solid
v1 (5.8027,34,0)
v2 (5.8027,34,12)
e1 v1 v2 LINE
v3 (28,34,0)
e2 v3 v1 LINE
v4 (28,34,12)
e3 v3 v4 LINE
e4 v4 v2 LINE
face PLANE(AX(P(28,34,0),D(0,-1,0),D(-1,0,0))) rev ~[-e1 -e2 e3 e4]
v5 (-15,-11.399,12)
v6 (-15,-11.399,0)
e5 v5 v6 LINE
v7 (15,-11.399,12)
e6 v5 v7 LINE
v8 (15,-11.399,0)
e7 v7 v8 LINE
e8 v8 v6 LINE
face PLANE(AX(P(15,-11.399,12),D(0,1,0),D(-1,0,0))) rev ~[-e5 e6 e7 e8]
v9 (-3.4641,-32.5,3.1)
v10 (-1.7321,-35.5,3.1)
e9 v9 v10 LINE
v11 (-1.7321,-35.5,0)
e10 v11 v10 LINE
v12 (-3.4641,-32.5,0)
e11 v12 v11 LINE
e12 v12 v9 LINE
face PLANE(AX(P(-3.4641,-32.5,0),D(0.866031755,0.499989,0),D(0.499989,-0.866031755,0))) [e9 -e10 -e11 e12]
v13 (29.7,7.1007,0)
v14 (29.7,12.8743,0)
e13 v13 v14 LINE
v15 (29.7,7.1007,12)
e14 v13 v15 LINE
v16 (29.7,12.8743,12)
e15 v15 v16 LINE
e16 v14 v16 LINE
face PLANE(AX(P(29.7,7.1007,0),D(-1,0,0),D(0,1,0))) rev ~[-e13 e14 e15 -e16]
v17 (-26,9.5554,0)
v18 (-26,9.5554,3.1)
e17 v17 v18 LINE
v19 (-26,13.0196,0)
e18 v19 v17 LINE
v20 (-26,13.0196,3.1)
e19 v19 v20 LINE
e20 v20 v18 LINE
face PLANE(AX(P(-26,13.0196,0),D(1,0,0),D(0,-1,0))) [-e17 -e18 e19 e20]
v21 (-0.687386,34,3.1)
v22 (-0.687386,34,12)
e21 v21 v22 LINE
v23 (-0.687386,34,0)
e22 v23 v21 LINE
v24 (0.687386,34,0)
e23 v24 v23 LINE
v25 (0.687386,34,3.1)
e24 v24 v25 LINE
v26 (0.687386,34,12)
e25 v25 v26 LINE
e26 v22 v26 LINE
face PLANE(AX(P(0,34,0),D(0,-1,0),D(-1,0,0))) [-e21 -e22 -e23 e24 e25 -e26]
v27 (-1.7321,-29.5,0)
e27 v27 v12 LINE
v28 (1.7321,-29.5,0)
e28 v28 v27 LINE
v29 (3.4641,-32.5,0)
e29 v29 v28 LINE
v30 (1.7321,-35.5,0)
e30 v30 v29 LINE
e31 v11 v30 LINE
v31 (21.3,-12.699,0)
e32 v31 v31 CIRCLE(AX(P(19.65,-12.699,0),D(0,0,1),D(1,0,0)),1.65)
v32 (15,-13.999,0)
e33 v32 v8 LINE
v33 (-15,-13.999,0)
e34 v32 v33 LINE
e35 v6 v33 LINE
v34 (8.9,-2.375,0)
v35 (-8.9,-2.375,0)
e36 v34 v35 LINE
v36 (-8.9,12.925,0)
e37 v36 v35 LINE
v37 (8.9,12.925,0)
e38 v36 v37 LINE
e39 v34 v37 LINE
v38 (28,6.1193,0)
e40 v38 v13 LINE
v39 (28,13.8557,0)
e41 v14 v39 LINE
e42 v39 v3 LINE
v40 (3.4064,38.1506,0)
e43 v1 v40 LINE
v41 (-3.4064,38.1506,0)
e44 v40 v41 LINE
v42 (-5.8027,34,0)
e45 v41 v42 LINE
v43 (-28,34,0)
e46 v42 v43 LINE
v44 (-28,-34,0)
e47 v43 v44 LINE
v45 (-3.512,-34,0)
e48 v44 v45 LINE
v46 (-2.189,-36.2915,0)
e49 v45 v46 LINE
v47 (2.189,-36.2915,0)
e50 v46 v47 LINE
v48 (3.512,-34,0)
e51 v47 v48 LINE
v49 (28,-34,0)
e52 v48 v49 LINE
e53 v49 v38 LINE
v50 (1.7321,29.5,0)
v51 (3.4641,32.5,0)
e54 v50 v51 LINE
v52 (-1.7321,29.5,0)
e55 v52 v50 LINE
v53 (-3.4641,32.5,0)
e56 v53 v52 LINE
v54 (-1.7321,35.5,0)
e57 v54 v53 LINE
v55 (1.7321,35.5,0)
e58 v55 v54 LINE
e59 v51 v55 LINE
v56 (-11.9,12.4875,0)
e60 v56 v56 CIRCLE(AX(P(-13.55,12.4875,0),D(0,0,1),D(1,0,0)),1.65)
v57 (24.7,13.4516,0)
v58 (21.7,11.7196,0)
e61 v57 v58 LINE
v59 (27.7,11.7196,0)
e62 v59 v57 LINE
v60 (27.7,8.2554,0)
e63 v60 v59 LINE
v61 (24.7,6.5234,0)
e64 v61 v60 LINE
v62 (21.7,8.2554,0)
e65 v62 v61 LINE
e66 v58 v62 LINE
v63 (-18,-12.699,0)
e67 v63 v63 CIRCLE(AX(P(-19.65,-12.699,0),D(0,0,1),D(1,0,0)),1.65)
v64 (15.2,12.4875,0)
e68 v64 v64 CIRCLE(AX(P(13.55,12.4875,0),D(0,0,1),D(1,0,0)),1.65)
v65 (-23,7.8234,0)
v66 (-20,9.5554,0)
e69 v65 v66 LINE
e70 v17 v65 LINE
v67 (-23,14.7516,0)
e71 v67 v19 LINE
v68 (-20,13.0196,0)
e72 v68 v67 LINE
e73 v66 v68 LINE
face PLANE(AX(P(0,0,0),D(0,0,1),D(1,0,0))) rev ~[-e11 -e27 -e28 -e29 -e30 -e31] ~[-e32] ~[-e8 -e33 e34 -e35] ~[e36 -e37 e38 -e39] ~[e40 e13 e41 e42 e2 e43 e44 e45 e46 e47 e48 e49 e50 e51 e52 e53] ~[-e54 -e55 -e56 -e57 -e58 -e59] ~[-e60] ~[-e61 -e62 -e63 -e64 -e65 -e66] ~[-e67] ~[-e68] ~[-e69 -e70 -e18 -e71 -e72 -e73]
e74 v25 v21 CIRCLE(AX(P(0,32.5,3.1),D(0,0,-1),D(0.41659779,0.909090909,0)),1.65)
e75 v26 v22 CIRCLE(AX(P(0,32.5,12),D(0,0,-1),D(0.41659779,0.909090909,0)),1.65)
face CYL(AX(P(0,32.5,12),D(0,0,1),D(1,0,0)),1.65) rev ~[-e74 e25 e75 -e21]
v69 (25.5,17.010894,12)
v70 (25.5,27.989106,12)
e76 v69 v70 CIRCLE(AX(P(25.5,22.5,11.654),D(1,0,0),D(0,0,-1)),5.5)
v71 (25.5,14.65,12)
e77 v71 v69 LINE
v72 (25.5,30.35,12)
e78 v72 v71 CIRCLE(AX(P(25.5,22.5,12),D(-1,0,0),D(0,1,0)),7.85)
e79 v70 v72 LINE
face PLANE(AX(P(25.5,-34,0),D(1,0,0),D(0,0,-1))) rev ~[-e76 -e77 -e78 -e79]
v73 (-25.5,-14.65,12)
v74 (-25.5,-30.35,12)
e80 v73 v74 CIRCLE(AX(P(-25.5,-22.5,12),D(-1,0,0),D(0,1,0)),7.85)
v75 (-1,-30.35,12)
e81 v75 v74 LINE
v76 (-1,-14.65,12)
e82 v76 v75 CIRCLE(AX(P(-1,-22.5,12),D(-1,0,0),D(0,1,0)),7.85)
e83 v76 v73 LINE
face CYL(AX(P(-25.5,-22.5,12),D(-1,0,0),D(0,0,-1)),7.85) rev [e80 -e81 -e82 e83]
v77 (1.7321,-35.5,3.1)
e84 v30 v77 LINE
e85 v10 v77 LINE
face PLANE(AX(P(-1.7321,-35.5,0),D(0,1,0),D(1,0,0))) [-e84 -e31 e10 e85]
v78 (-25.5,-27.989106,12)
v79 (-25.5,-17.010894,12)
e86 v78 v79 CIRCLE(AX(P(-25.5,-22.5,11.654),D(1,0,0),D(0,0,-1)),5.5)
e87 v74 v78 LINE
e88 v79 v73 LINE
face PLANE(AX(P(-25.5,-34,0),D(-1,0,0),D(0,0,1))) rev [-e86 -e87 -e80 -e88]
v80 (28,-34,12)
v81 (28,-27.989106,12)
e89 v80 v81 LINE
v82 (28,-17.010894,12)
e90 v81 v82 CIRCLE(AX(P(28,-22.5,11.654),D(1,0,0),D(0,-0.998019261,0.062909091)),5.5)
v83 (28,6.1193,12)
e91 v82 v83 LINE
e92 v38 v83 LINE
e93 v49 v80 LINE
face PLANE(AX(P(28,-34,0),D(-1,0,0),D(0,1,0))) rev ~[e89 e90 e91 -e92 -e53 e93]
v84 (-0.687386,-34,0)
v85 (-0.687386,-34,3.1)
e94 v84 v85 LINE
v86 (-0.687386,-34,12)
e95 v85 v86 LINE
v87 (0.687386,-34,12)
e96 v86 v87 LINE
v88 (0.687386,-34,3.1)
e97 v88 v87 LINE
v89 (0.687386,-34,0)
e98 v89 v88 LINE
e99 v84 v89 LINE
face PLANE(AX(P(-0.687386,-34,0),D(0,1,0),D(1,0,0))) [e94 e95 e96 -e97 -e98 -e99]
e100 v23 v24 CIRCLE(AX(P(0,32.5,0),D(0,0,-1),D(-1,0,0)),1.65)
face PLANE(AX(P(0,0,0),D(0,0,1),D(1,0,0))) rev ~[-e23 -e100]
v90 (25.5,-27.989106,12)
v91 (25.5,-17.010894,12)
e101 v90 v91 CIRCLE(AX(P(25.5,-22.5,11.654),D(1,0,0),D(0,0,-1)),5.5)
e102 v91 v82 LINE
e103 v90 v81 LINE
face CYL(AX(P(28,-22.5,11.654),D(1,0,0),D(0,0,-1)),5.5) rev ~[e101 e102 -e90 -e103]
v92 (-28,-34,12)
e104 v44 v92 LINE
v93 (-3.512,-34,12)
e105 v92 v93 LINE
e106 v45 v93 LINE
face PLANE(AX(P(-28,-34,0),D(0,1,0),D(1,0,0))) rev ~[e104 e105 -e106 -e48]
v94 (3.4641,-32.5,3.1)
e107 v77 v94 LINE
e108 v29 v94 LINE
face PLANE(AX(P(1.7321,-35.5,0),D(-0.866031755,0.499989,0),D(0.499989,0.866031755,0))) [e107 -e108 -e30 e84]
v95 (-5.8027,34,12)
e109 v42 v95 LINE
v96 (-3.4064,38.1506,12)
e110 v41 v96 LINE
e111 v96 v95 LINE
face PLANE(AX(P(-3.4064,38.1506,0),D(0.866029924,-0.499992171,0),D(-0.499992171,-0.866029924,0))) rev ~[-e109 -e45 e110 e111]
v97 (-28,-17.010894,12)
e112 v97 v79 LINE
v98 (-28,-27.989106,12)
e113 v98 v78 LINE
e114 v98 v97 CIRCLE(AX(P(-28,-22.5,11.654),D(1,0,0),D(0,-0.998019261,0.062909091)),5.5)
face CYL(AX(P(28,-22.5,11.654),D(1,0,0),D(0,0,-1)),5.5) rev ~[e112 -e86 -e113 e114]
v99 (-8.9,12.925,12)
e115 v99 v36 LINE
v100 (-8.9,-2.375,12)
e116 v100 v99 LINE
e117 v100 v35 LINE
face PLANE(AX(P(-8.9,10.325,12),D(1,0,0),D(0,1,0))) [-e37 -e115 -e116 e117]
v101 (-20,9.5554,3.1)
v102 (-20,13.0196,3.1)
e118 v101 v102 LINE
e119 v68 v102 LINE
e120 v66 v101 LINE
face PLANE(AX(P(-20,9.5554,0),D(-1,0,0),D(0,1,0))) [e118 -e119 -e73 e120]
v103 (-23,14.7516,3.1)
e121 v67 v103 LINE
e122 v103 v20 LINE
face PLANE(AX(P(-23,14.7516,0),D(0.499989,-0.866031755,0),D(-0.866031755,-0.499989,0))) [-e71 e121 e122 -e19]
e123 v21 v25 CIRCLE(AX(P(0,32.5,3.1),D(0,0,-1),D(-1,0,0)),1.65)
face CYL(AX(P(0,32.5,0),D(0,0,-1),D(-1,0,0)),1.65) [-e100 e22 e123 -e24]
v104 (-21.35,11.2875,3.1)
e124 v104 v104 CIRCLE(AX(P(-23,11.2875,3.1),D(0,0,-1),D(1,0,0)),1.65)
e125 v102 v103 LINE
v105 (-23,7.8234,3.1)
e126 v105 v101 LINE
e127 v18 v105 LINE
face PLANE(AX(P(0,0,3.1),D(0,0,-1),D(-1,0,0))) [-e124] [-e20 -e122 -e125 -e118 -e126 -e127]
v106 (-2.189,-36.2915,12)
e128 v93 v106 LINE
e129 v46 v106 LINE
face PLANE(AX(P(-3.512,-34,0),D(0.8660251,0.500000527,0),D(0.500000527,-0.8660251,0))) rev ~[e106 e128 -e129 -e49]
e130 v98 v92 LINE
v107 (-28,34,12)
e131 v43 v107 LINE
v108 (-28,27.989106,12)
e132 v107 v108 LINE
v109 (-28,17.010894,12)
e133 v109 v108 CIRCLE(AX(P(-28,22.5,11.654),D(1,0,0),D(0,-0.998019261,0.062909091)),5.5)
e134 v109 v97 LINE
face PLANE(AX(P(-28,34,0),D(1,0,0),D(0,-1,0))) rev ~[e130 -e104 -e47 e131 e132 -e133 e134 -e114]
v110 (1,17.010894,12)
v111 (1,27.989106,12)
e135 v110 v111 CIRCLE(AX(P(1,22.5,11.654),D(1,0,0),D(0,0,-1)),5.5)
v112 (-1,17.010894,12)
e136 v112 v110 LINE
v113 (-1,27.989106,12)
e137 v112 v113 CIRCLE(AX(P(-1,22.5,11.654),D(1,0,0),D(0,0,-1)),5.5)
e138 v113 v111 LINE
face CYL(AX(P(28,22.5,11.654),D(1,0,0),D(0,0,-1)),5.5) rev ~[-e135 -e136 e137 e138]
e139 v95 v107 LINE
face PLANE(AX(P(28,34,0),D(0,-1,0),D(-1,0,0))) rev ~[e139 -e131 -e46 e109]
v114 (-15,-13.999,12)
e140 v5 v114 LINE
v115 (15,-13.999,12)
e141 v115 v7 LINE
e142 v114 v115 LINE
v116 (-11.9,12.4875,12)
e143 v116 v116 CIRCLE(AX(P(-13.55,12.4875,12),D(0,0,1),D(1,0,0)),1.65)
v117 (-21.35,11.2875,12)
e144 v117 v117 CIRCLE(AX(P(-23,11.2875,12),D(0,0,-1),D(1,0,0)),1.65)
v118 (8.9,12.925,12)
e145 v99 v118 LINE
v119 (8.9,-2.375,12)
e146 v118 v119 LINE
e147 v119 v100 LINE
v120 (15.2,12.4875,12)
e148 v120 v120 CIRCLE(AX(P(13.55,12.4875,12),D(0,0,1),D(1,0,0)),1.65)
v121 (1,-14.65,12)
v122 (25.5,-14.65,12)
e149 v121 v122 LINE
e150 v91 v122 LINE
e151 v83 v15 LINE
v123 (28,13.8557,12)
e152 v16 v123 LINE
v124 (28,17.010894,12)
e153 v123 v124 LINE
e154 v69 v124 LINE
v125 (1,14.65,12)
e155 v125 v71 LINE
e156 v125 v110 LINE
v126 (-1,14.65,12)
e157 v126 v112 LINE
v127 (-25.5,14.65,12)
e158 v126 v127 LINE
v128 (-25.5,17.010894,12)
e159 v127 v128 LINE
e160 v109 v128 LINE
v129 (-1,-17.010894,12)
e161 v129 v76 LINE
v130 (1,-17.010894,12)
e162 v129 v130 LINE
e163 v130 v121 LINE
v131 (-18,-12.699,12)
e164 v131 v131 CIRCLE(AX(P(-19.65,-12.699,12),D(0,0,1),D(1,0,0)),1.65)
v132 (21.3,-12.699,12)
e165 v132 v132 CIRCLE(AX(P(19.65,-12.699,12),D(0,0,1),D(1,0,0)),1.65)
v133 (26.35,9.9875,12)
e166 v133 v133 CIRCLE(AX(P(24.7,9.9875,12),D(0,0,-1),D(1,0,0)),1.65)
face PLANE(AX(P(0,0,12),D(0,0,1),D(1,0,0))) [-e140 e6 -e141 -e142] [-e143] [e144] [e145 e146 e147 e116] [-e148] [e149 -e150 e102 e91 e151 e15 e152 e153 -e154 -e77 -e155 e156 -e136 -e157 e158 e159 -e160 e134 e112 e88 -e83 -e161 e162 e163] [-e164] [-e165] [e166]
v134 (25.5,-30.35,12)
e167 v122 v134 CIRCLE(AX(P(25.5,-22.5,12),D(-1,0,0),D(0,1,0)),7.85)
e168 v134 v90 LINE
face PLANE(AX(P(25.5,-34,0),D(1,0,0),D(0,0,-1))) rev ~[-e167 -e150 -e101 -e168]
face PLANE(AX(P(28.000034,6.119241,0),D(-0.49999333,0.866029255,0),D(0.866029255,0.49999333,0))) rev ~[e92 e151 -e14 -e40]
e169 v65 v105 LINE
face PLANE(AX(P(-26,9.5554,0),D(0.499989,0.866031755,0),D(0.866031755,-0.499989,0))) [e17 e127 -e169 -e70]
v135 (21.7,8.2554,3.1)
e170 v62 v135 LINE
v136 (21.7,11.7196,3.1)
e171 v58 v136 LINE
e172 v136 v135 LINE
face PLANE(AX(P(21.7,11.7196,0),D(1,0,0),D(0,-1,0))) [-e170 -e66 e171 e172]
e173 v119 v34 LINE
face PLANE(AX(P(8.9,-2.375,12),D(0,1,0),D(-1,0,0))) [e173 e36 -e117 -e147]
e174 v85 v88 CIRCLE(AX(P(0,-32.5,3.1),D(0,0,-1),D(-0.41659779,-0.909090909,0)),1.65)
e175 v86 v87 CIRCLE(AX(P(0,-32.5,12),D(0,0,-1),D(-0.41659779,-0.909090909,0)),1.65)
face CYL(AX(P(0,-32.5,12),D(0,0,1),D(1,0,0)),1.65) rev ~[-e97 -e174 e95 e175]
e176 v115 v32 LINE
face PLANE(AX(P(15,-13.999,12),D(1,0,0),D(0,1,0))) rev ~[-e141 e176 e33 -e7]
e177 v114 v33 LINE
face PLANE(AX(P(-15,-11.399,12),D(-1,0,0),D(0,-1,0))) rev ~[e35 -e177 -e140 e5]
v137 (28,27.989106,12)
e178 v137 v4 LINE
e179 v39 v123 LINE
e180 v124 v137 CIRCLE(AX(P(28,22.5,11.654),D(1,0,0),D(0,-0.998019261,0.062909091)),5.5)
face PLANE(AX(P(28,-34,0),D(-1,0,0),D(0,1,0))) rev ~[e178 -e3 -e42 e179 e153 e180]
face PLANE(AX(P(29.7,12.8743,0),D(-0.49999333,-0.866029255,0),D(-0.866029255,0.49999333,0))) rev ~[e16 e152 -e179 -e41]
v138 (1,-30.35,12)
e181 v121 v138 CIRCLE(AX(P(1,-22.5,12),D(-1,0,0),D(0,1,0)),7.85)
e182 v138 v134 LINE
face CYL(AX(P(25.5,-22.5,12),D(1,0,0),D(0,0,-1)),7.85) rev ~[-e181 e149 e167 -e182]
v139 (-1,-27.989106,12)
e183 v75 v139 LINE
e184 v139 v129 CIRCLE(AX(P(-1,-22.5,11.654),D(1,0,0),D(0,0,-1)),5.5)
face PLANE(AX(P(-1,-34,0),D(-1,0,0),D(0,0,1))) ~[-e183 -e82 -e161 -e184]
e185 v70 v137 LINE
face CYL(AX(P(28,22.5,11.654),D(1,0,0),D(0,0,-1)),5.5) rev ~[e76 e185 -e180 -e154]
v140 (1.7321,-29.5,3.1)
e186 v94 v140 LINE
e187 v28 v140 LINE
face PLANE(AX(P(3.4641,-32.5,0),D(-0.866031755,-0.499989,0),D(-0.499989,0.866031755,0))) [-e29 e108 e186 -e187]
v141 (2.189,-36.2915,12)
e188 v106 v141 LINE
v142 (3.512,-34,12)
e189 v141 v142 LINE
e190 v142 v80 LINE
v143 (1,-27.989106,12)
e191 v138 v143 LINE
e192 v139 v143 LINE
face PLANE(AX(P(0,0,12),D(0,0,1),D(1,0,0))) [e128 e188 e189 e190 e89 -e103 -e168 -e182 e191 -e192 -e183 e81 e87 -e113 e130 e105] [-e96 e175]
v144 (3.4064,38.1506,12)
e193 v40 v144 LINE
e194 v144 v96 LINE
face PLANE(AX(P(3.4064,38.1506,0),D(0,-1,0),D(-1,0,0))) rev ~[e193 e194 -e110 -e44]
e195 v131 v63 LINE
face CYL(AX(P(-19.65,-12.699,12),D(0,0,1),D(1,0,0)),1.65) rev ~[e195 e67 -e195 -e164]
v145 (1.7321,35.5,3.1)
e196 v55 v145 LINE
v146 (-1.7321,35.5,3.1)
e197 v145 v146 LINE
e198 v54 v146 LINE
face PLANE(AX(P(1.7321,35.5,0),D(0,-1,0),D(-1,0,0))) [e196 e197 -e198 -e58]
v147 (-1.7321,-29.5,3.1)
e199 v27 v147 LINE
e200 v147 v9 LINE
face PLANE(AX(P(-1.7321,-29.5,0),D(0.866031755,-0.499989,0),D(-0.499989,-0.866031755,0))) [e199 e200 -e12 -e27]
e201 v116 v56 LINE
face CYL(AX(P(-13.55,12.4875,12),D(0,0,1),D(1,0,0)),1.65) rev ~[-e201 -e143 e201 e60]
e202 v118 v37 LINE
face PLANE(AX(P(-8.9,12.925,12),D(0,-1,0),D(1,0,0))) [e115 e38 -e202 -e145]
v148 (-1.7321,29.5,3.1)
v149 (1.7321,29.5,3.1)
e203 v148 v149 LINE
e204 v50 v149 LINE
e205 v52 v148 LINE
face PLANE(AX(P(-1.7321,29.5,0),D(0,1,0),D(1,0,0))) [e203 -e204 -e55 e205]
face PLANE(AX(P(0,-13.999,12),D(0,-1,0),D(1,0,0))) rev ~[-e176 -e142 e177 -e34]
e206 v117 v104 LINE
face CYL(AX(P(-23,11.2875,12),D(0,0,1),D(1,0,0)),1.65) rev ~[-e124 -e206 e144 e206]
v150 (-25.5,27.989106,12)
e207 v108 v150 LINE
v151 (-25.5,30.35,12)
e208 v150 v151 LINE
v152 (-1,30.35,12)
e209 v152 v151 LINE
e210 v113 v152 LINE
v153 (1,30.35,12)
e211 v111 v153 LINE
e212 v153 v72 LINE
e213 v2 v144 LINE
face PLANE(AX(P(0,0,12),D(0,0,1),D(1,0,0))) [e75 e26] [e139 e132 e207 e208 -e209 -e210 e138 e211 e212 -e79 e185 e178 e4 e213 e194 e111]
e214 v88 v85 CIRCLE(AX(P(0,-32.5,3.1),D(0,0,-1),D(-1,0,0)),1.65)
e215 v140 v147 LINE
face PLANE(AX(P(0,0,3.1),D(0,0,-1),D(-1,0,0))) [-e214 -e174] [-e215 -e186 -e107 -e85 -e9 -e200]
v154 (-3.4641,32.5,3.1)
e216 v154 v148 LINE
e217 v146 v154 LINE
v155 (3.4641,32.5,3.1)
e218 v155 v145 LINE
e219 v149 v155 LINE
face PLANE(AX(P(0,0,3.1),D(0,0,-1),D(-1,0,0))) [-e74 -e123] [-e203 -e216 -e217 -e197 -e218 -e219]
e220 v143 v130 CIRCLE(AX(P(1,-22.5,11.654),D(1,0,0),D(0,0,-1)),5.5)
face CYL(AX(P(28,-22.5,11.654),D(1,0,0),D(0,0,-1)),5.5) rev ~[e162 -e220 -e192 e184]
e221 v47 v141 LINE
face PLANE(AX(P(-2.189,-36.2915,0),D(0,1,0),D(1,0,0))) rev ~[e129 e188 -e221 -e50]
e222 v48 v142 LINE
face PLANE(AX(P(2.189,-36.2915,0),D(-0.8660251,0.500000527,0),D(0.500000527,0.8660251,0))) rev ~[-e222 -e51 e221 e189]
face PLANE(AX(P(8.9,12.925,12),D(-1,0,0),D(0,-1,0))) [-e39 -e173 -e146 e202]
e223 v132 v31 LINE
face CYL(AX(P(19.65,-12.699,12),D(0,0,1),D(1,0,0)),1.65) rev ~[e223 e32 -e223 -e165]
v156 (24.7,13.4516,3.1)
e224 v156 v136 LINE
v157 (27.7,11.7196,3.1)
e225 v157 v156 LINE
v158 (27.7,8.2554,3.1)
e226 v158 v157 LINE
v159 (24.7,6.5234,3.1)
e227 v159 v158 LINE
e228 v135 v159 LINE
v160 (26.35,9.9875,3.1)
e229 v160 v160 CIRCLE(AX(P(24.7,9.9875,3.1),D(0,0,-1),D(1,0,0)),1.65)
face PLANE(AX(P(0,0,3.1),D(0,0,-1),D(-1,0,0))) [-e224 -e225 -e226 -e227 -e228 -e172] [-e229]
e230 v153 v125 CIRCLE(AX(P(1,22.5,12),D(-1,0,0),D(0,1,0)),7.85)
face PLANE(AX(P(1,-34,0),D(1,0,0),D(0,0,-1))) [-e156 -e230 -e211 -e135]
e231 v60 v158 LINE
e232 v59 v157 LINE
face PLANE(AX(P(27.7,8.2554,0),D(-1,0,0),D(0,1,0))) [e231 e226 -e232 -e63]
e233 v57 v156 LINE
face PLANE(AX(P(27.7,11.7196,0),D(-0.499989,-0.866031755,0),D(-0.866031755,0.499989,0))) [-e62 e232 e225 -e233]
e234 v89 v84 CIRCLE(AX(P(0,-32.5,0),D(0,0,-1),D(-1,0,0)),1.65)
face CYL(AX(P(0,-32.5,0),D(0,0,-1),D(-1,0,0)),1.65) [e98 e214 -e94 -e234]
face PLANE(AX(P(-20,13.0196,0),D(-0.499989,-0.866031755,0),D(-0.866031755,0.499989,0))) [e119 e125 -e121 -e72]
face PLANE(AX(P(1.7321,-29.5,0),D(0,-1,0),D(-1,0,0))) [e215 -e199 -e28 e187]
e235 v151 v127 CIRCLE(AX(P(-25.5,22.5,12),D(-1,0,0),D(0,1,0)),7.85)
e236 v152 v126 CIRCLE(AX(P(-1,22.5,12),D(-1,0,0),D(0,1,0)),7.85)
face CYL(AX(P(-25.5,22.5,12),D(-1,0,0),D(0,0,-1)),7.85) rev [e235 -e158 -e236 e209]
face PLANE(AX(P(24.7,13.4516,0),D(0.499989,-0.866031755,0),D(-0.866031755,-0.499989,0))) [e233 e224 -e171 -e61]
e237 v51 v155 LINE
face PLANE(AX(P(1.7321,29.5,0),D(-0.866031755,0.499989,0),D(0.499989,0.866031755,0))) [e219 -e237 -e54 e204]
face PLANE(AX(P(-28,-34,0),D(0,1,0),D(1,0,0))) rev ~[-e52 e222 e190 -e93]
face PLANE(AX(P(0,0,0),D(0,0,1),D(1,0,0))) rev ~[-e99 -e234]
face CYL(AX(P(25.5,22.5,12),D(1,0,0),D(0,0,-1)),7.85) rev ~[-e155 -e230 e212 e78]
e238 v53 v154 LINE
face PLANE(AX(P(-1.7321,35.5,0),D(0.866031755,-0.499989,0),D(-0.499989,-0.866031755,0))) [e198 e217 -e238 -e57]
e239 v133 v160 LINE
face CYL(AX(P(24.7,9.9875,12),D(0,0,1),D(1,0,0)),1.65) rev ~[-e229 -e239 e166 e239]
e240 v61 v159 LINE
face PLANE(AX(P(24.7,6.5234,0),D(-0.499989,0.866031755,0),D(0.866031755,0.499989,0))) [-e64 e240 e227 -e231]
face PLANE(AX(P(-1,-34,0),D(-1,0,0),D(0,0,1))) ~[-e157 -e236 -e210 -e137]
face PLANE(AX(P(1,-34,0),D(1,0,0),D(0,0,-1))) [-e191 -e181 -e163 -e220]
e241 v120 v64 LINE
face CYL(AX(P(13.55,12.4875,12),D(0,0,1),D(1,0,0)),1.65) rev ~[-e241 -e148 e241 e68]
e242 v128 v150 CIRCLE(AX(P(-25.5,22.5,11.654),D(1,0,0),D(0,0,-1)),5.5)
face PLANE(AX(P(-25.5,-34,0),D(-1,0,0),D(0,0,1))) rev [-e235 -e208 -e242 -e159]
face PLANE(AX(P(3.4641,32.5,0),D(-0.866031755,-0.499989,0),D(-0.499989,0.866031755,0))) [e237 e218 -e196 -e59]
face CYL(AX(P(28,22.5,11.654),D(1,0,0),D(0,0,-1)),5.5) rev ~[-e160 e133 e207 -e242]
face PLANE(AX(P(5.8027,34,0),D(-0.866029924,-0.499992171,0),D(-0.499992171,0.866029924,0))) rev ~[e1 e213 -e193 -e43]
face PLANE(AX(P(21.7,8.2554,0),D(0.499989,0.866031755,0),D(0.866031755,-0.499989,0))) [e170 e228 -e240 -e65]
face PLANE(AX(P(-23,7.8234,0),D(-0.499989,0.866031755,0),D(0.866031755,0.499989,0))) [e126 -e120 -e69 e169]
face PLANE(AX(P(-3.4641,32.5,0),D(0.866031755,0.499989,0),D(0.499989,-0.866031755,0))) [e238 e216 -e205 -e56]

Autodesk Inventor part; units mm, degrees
ref_plane "YZ Plane" through (0, 0, 0) normal (1, 0, 0) x (0, 1, 0)
ref_plane "XZ Plane" through (0, 0, 0) normal (0, 1, 0) x (-1, 0, 0)
ref_plane "XY Plane" through (0, 0, 0) normal (0, 0, 1) x (1, 0, 0)
sketch "Sketch1" plane through (0, 0, 0) normal (0, 0, 1) x (1, 0, 0)
  line L0 (-28, -34) -> (28, -34)
  line L1 (28, -34) -> (28, 34)
  line L2 (28, 34) -> (-28, 34)
  line L3 (-28, 34) -> (-28, -34)
  line L4 (-28, -34) -> (28, 34) construction
  line L5 (28, -34) -> (-28, 34) construction
  point P0 (0, 0)
  dimension "d0" = 56
  dimension "d1" = 68
extrude "Extrusion1" add sketch "Sketch1" along normal blind 12
sketch "Sketch2" plane through (28, -34, 0) normal (1, 0, 0) x (0, 0, -1)
  line L0 (0, 34) -> (-11.654, 34)
  line L1 (-11.654, 34) -> (-11.654, 11.5)
  line L2 (-11.654, 34) -> (-11.654, 56.5)
  circle A0 centre (-11.654, 11.5) radius 5.5
  circle A1 centre (-11.654, 56.5) radius 5.5
  dimension "d4" = 22.5
  dimension "d5" = 11
  dimension "d6" = 11
extrude "Extrusion2" cut sketch "Sketch2" against normal up to surface (56 mm away)
ref_plane "Work Plane1" through (25.5, -34, 0) normal (1, 0, 0) x (0, 0, -1)
sketch "Sketch3" plane through (25.5, -34, 0) normal (1, 0, 0) x (0, 0, -1)
  line L0 (-12, 51.0109) -> (-12, 16.9891) projected
  line L1 (-12, 61.9891) -> (-12, 68) projected
  line L2 (-12, 51.0109) -> (-12, 61.9891)
  line L3 (-12, 16.9891) -> (-12, 6.0109)
  circle A0 centre (-12, 11.5) radius 7.85
  circle A1 centre (-12, 56.5) radius 7.85
  point P0 (0, 34)
  dimension "d9" = 15.7
  dimension "d10" = 15.7
extrude "Extrusion3" cut sketch "Sketch3" against normal blind 24.5
ref_plane "Work Plane2" through (0, -34, 0) normal (1, 0, 0) x (0, 0, -1)
mirror "Mirror1" about plane through (0, -34, 0) normal (1, 0, 0) of "Extrusion3"
sketch "Sketch10" plane through (0, 0, 12) normal (0, 0, 1) x (1, 0, 0)
  line L0 (-8.9, 12.925) -> (8.9, 12.925)
  line L1 (8.9, 14.65) -> (8.9, -2.375)
  line L2 (8.9, -2.375) -> (-8.9, -2.375)
  line L3 (-8.9, -2.375) -> (-8.9, 12.925)
  line L4 (10.4, -4.375) -> (-10.4, -4.375) projected
  line L5 (10.4, 10.325) -> (10.4, -4.375) projected
  line L6 (-10.4, -4.375) -> (-10.4, 10.325) projected
  line L7 (-1, 14.65) -> (-25.5, 14.65) projected
  line L8 (-28, 17.0109) -> (-28, -17.0109) projected
  line L9 (28, -17.0109) -> (28, 17.0109) projected
  line L10 (-28, 10.325) -> (28, 10.325) projected
  line L11 (25.5, 14.65) -> (1, 14.65) projected
  line L12 (-1, -15.073) -> (1, -15.073)
  line L13 (0, -15.073) -> (0, -10.325)
  line L14 (28, -10.325) -> (-28, -10.325) projected
  line L15 (-15, -13.999) -> (15, -13.999)
  line L16 (15, -13.999) -> (15, -11.399)
  line L17 (15, -11.399) -> (-15, -11.399)
  line L18 (-15, -11.399) -> (-15, -13.999)
  line L19 (-15, -13.999) -> (15, -11.399) construction
  line L20 (15, -13.999) -> (-15, -11.399) construction
  line L21 (1, -14.65) -> (25.5, -14.65) projected
  point P0 (0, 0)
  point P1 (-28, 6.925)
  point P2 (28, 4.325)
  point P3 (21.4, 10.325)
  point P4 (0, -12.699)
  dimension "d82" = 2
  dimension "d83" = 1.5
  dimension "d84" = 1.5
  dimension "d105" = 15.3
  dimension "d116" = 2.6
  dimension "d117" = 30
  dimension "d152" = 0.651
extrude "Extrusion9" cut sketch "Sketch10" against normal up to surface (12 mm away) contours L17 L16 L15 L13 | L13 L15 L18 L17 | L0 L1 L10 L3 | L10 L1 L2 L3
sketch "Sketch12" plane through (0, 0, 12) normal (0, 0, 1) x (1, 0, 0)
  line L0 (-28, 10.325) -> (28, 10.325) projected
  line L1 (-10.4, 10.325) -> (-8.9, 10.325)
  line L2 (-8.9, 12.925) -> (-8.9, -2.375) projected
  line L3 (-1, 14.65) -> (-25.5, 14.65) projected
  line L4 (-8.9, 14.65) -> (-8.9, 10.325)
  line L5 (-8.9, 12.4875) -> (-13.55, 12.4875) construction
  circle A0 centre (-13.55, 12.4875) radius 1.65
  line L6 (28, -17.0109) -> (28, 17.0109) construction
  line L7 (28, 5.325) -> (21.4, 5.325) construction
  line L8 (21.4, 5.325) -> (21.4, 14.65) construction
  line L9 (21.4, 14.65) -> (28, 14.65) construction
  line L10 (28, 14.65) -> (28, 5.325) construction
  line L11 (21.4, 5.825) -> (21.4, 10.325) construction
  line L12 (25.5, 14.65) -> (1, 14.65) projected
  line L13 (21.4, 14.65) -> (28, 5.325) construction
  circle A1 centre (24.7, 9.9875) radius 1.65
  line L14 (-28, -34) -> (28, -34) projected
  line L15 (0, -34) -> (0, 34)
  circle A2 centre (13.55, 12.4875) radius 1.65
  line L16 (-15, -11.399) -> (-15, -13.999) projected
  line L17 (-15, -12.699) -> (-19.65, -12.699) construction
  circle A3 centre (-19.65, -12.699) radius 1.65
  circle A4 centre (19.65, -12.699) radius 1.65
  line L18 (-28, 7.925) -> (-18, 7.925) construction
  line L19 (-18, 7.925) -> (-18, 14.65) construction
  line L20 (-18, 14.65) -> (-28, 14.65) construction
  line L21 (-28, 14.65) -> (-28, 7.925) construction
  line L22 (-18, 10.325) -> (-18, 8.425) construction
  line L23 (-28, 14.65) -> (-18, 7.925) construction
  circle A5 centre (-23, 11.2875) radius 1.65
  line L24 (-28, 30.85) -> (28, 30.85) construction
  circle A6 centre (0, 32.5) radius 1.65
  line L25 (-25.5, 30.35) -> (-1, 30.35) projected
  line L26 (28, -34) -> (28, 34) projected
  line L27 (28, 0) -> (-28, 0)
  line L28 (-28, -30.85) -> (28, -30.85) construction
  circle A7 centre (0, -32.5) radius 1.65
  point P0 (0, 0)
  dimension "d118" = 4.65
  dimension "d119" = 3.3
  dimension "d121" = 3.3
  dimension "d122" = 4.65
  dimension "d123" = 3.3
  dimension "d124" = 3.3
  dimension "d125" = 3.3
  dimension "d126" = 0.5
extrude "Extrusion11" cut sketch "Sketch12" against normal up to surface (12 mm away) contours A6 | A5 L0 | L0 A5 | A1 L0 | L0 A1 | A7 L14 L15 | L15 L14 A7 | L14 A7 | A0 | A2 | A3 | A4
sketch "Sketch13" plane through (0, 0, 0) normal (0, 0, -1) x (-1, 0, 0)
  line L0 (3.4064, 38.1506) -> (5.8027, 34)
  line L1 (-5.8027, 34) -> (-3.4064, 38.1506)
  line L2 (-3.4064, 38.1506) -> (3.4064, 38.1506)
  line L3 (0, 34) -> (0, 32.2506)
  line L4 (-28, 34) -> (28, 34) projected
  line L5 (-28, 34) -> (28, 34) projected
  line L6 (-5.8027, 34) -> (5.8027, 34)
  line L7 (-28, -34) -> (-28, 34) projected
  line L8 (-28, 0) -> (28, 0)
  circle A0 centre (-24.7, 9.9875) radius 1.65 projected
  line L9 (-29.7, 12.8743) -> (-24.7, 15.761)
  line L10 (-24.7, 15.761) -> (-19.7, 12.8743)
  line L11 (-19.7, 12.8743) -> (-19.7, 7.1007)
  line L12 (-19.7, 7.1007) -> (-24.7, 4.214)
  line L13 (-24.7, 4.214) -> (-29.7, 7.1007)
  line L14 (-29.7, 7.1007) -> (-29.7, 12.8743)
  line L15 (-28, 13.8557) -> (-28, 6.1193)
  circle A1 centre (0, -32.5) radius 1.65 projected
  line L16 (-2.189, -36.2915) -> (-3.512, -34)
  line L17 (3.512, -34) -> (2.189, -36.2915)
  line L18 (2.189, -36.2915) -> (-2.189, -36.2915)
  line L19 (28, -34) -> (-28, -34) projected
  line L20 (-3.512, -34) -> (3.512, -34)
  point P0 (0, 0)
  dimension "d131" = 1.7494
  dimension "d142" = 10
extrude "Extrusion12" add sketch "Sketch13" against normal up to surface (12 mm away) contours L19 A1 L17 L18 L16 | L7 L13 L14 L9 | L0 L4 L1 L2 | L19 A1 picked at (-0.1173, -34.0374)
sketch "Sketch14" plane through (0, 0, 0) normal (0, 0, -1) x (-1, 0, 0)
  circle A0 centre (0, 32.5) radius 1.65 projected
  line L0 (-1.65, 32.5) -> (1.65, 32.5) construction
  line L1 (1.7321, 35.5) -> (3.4641, 32.5)
  line L2 (3.4641, 32.5) -> (1.7321, 29.5)
  line L3 (1.7321, 29.5) -> (-1.7321, 29.5)
  line L4 (-1.7321, 29.5) -> (-3.4641, 32.5)
  line L5 (-3.4641, 32.5) -> (-1.7321, 35.5)
  line L6 (-1.7321, 35.5) -> (1.7321, 35.5)
  circle A1 centre (23, 11.2875) radius 1.65 projected
  line L7 (26, 9.5554) -> (23, 7.8234)
  line L8 (23, 7.8234) -> (20, 9.5554)
  line L9 (20, 9.5554) -> (20, 13.0196)
  line L10 (20, 13.0196) -> (23, 14.7516)
  line L11 (23, 14.7516) -> (26, 13.0196)
  line L12 (26, 13.0196) -> (26, 9.5554)
  circle A2 centre (-24.7, 9.9875) radius 1.65 projected
  line L13 (-27.7, 11.7196) -> (-24.7, 13.4516)
  line L14 (-24.7, 13.4516) -> (-21.7, 11.7196)
  line L15 (-21.7, 11.7196) -> (-21.7, 8.2554)
  line L16 (-21.7, 8.2554) -> (-24.7, 6.5234)
  line L17 (-24.7, 6.5234) -> (-27.7, 8.2554)
  line L18 (-27.7, 8.2554) -> (-27.7, 11.7196)
  circle A3 centre (0, -32.5) radius 1.65 projected
  line L19 (1.7321, -29.5) -> (3.4641, -32.5)
  line L20 (3.4641, -32.5) -> (1.7321, -35.5)
  line L21 (1.7321, -35.5) -> (-1.7321, -35.5)
  line L22 (-1.7321, -35.5) -> (-3.4641, -32.5)
  line L23 (-3.4641, -32.5) -> (-1.7321, -29.5)
  line L24 (-1.7321, -29.5) -> (1.7321, -29.5)
  point P0 (0, 0)
  dimension "d138" = 6
  dimension "d139" = 6
  dimension "d140" = 6
  dimension "d141" = 6
extrude "Extrusion13" cut sketch "Sketch14" against normal blind 3.1
properties part number "custom"
